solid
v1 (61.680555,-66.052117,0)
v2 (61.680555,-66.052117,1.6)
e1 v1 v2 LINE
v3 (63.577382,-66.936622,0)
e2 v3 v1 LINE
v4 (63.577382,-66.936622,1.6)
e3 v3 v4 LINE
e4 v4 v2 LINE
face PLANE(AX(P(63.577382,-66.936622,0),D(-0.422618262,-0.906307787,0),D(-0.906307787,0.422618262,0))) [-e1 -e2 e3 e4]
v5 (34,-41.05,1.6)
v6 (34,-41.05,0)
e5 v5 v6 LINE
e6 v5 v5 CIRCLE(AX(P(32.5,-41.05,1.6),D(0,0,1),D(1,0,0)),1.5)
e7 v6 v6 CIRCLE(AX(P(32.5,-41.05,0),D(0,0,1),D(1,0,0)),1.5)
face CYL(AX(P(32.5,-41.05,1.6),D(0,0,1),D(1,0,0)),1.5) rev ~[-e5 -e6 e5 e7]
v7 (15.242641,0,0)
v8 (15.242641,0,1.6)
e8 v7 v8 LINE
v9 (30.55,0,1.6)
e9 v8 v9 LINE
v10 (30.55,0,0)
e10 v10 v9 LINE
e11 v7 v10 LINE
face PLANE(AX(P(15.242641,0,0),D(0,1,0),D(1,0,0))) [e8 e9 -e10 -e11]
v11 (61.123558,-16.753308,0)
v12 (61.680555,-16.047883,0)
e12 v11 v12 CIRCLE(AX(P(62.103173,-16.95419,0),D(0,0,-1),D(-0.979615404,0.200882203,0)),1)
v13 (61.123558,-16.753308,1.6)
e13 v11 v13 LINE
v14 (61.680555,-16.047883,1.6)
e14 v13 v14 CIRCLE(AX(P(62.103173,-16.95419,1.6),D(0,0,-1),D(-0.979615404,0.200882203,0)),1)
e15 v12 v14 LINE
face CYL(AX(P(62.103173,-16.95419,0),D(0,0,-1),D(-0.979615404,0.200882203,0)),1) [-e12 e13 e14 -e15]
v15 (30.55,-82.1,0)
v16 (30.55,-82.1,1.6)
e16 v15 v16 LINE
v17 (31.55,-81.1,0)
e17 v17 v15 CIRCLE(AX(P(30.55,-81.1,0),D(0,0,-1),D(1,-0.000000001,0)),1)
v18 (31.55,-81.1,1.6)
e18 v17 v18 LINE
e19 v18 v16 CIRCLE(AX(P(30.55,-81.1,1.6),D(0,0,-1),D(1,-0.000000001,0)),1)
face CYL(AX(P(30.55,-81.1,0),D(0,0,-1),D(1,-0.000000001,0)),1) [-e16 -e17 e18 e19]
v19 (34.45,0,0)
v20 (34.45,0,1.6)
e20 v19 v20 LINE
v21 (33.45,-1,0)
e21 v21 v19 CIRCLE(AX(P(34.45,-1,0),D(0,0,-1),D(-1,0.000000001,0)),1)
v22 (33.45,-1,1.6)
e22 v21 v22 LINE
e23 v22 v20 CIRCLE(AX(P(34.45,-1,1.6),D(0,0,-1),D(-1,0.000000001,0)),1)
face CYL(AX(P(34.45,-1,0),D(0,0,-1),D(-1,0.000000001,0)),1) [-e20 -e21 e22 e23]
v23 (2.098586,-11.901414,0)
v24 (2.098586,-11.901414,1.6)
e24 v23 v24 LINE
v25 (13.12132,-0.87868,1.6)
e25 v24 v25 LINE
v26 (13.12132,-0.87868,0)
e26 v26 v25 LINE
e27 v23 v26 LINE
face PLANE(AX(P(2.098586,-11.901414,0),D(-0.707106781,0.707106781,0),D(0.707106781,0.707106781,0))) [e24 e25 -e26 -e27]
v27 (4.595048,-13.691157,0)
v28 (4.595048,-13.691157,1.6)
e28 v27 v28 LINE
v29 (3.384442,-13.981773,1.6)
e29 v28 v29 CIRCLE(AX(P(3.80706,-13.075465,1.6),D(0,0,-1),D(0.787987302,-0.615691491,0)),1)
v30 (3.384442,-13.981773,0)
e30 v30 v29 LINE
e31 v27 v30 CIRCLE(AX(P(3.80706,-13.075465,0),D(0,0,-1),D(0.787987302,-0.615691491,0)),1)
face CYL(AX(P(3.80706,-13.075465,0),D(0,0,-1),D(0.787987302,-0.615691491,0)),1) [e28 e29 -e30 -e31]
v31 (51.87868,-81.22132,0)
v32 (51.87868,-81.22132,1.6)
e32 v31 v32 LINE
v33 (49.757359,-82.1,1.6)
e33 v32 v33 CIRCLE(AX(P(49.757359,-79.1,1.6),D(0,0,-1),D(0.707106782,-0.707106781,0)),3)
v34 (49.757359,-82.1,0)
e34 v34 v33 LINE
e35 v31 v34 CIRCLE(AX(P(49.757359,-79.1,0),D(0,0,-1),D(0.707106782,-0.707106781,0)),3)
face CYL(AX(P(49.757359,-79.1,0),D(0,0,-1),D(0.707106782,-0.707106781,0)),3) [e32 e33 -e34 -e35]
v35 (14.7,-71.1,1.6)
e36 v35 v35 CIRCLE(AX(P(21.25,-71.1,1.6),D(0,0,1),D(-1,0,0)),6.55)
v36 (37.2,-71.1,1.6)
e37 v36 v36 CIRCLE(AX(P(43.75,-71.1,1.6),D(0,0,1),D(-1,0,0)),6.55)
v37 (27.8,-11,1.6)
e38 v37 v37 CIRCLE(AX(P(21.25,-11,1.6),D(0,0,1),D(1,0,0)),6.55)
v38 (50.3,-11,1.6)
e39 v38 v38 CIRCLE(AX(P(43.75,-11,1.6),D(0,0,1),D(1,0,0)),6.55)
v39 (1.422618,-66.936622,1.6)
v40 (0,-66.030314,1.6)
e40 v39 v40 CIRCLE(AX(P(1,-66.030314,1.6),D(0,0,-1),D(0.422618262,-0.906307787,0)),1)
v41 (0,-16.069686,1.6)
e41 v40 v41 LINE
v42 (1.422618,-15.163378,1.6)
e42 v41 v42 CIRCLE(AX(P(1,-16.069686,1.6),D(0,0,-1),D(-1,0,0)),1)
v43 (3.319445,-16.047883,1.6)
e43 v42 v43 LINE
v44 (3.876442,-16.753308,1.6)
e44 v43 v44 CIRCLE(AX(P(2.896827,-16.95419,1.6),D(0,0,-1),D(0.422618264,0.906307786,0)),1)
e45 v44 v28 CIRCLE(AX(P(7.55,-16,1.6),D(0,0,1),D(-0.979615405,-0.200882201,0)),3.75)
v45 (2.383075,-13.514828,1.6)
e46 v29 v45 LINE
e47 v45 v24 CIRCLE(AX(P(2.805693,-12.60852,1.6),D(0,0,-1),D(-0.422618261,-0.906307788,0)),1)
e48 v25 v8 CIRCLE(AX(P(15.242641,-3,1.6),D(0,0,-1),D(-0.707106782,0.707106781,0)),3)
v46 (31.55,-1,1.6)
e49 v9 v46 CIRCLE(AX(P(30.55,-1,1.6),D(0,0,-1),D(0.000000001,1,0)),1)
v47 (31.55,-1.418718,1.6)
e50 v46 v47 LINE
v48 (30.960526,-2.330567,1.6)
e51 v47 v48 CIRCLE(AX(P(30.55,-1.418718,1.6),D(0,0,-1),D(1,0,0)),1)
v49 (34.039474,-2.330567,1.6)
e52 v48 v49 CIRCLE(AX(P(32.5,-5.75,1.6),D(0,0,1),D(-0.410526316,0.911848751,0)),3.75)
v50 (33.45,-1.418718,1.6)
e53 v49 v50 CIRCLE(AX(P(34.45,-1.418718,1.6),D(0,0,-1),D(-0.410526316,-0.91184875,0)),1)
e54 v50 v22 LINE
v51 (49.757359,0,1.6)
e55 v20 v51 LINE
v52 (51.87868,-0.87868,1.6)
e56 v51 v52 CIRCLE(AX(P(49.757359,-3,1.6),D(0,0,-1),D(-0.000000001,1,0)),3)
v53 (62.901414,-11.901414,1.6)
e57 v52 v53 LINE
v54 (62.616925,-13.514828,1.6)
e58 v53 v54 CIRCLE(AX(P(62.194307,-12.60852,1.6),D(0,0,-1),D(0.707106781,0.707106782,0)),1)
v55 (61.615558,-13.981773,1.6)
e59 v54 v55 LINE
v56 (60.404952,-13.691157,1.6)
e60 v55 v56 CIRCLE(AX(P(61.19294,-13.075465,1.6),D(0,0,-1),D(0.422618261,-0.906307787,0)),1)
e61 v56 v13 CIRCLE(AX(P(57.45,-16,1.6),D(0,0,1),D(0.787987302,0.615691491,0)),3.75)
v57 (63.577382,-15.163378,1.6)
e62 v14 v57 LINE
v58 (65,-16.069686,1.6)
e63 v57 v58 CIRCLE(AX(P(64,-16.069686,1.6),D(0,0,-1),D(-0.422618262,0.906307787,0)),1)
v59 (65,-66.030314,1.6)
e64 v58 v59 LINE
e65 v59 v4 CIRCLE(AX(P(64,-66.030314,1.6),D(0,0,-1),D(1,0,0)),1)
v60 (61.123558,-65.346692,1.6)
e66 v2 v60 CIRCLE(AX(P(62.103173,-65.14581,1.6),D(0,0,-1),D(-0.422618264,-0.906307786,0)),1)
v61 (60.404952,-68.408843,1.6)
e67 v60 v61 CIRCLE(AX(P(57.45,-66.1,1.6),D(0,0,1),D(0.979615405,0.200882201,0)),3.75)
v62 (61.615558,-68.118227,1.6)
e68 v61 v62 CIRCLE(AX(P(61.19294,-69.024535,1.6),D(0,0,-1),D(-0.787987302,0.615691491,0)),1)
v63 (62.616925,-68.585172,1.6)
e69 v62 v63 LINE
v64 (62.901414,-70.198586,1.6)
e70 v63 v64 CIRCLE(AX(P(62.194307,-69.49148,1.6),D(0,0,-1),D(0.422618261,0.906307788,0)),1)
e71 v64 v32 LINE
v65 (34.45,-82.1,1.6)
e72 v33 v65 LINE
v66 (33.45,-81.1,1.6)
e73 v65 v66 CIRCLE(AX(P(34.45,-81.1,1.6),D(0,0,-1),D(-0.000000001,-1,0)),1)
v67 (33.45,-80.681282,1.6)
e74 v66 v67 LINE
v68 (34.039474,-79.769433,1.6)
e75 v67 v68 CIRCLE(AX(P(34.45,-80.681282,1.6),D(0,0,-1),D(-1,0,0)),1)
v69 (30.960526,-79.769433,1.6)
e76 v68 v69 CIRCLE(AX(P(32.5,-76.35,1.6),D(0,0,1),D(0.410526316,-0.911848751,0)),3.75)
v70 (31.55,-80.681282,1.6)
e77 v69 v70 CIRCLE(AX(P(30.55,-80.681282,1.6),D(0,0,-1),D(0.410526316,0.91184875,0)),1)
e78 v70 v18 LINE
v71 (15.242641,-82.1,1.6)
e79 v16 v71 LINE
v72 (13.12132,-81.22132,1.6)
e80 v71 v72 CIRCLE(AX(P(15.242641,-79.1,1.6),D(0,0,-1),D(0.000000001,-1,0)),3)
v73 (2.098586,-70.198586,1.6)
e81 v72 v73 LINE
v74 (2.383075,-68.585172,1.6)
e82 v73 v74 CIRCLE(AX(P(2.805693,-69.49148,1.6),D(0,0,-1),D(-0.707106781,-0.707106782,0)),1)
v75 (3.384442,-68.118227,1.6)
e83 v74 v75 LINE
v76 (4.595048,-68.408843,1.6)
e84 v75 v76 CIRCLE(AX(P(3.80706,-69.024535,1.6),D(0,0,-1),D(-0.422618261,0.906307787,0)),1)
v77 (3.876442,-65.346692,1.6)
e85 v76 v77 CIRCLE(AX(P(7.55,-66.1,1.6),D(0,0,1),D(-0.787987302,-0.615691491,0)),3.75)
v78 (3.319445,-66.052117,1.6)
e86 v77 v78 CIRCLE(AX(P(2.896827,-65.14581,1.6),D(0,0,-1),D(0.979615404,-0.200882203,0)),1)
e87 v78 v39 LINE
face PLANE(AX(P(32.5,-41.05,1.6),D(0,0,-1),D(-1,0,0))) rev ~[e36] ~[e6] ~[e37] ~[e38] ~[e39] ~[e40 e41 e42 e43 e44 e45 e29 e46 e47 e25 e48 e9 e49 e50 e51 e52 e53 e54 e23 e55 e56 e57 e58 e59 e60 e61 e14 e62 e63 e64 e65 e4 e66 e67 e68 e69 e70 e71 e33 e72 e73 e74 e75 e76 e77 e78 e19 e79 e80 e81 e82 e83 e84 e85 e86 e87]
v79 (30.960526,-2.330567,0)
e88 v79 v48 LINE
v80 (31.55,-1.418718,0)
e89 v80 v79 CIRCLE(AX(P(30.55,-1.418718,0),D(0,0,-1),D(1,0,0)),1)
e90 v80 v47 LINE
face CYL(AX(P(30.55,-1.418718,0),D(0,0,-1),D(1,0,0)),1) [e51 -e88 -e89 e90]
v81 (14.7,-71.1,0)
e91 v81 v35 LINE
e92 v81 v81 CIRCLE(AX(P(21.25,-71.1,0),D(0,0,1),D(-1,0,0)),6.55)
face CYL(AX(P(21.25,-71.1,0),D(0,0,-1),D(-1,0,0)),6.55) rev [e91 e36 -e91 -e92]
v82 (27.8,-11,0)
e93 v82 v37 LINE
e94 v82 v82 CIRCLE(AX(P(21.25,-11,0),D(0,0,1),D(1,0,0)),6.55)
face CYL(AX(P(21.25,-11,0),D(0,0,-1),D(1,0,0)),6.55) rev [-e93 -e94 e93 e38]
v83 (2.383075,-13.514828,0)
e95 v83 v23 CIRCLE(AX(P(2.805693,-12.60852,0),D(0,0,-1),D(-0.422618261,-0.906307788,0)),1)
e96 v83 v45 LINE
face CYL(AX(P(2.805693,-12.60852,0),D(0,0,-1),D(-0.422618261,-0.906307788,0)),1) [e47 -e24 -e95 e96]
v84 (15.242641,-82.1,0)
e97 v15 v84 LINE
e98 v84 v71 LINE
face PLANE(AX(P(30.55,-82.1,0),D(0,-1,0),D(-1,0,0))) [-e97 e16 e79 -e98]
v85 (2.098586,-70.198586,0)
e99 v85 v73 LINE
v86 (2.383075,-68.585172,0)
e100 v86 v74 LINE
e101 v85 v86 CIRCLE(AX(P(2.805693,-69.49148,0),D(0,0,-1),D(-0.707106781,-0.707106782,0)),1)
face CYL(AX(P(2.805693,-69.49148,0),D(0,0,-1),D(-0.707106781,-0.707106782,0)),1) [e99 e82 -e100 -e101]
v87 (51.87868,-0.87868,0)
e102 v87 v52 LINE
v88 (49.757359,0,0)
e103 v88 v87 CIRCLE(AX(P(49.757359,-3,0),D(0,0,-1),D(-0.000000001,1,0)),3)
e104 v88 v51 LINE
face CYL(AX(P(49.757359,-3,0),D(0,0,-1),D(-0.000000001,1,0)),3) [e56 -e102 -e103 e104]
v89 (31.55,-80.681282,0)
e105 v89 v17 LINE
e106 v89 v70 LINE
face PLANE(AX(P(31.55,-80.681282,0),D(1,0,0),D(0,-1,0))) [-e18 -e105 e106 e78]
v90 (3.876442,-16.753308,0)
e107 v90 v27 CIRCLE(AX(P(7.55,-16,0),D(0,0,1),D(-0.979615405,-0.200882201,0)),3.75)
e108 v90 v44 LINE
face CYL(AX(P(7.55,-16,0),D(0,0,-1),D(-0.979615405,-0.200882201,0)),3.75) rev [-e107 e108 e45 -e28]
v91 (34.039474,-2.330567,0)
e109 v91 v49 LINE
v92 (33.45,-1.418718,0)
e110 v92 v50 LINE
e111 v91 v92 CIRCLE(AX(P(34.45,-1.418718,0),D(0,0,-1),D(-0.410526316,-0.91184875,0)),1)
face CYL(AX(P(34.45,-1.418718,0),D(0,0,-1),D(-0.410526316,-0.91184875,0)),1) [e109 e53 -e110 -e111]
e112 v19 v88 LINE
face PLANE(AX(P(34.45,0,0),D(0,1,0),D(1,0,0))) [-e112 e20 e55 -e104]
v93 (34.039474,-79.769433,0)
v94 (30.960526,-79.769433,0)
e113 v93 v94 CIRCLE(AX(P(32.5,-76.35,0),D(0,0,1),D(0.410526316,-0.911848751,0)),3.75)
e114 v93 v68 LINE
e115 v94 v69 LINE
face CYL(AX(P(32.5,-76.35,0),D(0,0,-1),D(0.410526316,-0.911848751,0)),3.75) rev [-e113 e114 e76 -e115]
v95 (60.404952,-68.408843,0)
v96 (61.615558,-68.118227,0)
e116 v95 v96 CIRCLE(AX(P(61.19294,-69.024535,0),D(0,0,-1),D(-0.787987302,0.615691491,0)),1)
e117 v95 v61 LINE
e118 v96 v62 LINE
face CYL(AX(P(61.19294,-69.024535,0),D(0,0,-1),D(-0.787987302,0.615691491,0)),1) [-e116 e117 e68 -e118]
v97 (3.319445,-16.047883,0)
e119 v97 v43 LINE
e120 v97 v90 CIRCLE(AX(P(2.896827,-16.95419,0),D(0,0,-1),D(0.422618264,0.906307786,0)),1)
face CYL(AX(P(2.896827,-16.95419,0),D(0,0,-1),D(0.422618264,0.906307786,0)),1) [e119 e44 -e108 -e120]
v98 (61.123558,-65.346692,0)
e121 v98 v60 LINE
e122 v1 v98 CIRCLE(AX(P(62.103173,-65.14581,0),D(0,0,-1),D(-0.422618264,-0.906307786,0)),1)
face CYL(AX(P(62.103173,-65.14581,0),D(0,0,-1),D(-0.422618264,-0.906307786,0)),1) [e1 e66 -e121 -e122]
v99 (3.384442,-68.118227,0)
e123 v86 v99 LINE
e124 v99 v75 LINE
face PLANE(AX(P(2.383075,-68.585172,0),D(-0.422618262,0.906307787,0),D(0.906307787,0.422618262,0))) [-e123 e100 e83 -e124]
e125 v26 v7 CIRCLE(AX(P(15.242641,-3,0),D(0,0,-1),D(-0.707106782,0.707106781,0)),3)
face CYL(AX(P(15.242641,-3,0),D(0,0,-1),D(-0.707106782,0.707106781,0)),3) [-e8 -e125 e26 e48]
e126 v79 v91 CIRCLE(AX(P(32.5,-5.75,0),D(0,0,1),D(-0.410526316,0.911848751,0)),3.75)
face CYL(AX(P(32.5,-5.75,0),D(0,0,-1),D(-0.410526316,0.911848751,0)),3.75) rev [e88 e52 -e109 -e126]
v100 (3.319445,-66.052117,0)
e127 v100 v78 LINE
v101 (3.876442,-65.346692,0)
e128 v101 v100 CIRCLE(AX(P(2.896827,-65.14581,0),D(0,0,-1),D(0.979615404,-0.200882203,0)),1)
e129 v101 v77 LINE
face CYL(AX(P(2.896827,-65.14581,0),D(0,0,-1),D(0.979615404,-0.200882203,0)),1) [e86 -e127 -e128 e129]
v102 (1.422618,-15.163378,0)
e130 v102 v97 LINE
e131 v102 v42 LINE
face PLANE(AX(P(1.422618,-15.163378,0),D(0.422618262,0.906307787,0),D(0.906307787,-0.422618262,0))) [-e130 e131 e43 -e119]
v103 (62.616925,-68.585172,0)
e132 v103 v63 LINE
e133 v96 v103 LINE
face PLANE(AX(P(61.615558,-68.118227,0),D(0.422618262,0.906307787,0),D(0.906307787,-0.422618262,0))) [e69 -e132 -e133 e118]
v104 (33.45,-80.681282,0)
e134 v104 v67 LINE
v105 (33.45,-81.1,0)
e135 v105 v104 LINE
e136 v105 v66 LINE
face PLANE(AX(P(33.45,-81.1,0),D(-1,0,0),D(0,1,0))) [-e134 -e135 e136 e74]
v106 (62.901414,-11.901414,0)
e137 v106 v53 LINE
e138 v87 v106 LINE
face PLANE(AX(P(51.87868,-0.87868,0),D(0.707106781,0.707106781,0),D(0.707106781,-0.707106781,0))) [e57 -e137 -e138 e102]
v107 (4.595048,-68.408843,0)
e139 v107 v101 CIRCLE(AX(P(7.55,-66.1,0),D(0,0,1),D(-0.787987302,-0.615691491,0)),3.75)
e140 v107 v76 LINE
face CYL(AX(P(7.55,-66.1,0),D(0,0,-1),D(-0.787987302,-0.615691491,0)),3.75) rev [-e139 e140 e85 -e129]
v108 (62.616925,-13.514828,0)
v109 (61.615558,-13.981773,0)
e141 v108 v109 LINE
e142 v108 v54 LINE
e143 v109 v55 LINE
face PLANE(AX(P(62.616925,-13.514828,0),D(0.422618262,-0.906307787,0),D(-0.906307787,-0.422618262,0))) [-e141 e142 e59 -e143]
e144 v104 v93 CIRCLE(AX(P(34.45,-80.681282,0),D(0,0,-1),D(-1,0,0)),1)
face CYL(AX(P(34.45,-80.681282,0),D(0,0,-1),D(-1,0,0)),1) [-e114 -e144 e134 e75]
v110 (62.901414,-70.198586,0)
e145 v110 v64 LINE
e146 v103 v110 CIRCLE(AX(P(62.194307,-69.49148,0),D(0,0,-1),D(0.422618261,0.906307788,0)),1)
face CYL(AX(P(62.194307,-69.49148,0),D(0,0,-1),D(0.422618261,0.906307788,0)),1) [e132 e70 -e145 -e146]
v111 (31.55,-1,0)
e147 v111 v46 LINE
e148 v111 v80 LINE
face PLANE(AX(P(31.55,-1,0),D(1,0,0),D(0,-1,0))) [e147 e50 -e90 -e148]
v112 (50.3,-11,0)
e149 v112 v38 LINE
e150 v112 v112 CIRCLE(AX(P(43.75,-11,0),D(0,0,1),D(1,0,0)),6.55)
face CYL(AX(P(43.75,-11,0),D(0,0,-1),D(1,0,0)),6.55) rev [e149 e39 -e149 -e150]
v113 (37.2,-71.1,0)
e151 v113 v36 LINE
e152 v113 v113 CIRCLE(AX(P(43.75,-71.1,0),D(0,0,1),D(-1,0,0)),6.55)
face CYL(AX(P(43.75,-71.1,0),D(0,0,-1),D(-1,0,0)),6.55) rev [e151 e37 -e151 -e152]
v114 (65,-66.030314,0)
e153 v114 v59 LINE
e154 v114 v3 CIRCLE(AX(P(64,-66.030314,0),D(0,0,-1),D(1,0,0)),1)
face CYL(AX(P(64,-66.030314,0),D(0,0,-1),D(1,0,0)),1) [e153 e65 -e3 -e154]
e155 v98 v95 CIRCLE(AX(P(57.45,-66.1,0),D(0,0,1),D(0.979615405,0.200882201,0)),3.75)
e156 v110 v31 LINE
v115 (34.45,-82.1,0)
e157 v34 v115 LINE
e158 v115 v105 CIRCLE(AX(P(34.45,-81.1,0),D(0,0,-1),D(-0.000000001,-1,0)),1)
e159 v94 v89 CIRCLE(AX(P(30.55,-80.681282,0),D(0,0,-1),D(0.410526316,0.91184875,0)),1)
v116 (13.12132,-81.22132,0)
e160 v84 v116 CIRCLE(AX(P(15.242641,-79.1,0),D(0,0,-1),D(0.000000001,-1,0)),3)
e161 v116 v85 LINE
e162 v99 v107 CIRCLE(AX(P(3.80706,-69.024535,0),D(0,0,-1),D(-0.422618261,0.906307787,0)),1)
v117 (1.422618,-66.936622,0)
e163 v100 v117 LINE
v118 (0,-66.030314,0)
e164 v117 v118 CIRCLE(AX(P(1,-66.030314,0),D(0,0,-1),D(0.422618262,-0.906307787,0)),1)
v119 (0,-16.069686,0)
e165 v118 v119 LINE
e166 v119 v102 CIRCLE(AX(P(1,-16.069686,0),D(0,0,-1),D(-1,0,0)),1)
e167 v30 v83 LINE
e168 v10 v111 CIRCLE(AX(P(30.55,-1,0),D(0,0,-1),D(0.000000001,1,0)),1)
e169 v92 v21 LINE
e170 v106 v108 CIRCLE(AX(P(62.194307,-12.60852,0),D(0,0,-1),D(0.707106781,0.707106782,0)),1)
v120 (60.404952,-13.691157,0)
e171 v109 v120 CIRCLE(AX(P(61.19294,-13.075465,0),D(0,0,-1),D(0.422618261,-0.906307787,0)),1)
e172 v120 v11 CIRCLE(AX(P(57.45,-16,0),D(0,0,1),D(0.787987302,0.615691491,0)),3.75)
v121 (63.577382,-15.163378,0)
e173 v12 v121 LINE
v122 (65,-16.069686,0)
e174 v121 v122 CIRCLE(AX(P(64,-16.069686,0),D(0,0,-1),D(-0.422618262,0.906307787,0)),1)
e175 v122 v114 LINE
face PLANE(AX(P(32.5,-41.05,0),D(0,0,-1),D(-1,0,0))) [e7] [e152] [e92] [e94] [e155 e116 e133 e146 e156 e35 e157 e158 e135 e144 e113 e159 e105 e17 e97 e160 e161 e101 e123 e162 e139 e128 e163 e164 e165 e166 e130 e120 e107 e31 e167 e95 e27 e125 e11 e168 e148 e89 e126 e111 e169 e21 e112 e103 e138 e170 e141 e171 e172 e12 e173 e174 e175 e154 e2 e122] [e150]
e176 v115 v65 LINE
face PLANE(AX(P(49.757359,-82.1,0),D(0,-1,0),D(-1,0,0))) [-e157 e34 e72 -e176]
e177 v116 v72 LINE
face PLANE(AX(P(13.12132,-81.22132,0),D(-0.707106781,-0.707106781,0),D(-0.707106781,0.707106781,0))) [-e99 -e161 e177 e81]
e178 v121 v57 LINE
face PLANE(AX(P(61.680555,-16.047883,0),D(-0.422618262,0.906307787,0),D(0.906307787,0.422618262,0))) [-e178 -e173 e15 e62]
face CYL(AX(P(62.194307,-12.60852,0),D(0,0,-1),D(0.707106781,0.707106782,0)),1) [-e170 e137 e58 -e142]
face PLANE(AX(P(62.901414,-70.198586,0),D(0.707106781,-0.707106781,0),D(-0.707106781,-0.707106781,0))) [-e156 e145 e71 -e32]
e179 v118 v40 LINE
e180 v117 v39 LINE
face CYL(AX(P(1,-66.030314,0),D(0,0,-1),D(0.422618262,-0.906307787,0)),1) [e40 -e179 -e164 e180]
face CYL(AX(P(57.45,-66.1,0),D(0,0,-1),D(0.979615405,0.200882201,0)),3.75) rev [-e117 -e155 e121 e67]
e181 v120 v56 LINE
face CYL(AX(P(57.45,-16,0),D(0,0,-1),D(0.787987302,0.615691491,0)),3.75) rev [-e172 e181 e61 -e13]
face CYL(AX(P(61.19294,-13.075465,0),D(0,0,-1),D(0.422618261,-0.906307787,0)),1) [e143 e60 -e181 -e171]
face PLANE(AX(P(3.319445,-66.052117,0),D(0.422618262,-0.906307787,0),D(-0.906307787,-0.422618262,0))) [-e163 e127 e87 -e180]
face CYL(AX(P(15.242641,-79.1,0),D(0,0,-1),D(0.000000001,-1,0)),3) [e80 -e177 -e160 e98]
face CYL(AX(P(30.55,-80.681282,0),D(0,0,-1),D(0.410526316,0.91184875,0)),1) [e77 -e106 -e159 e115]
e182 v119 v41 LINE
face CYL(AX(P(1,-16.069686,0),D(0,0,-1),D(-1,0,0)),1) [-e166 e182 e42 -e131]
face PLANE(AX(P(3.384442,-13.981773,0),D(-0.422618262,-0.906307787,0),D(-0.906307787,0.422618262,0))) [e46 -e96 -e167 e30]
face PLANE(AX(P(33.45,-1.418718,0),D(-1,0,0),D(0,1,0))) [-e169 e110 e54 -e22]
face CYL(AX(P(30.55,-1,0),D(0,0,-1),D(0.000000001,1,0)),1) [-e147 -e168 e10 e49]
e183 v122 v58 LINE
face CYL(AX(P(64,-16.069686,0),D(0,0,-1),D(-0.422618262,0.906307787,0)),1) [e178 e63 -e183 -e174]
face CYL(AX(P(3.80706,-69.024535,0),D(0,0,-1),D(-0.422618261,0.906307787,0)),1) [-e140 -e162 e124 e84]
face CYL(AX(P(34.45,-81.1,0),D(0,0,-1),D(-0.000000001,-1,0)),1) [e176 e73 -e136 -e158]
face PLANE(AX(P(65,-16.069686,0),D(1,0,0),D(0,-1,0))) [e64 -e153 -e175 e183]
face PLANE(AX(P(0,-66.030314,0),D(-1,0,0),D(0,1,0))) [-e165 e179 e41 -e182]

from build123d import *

# Parameters (mm, degrees)
IZIM1_R                     = 6.55
Y_KSEKLIK_EKSTR_ZYON1_DEPTH = 1.6
IZIM2_R                     = 1.5
KES_EKSTR_ZYON1_DEPTH       = 1.6


with BuildPart() as part:
    # Çizim1 → Yükseklik-Ekstrüzyon1 (new body)
    with BuildSketch(Plane.XY):
        with BuildLine():
            Line((51.878679656, -0.878679656), (62.901413512, -11.901413512))
            ThreePointArc((62.901413512, -11.901413512), (63.179114484, -12.782168471), (62.616924992, -13.51482808))
            Line((62.616924992, -13.51482808), (61.615557944, -13.981773203))
            ThreePointArc((61.615557944, -13.981773203), (60.959512838, -14.047839782), (60.404952381, -13.691156907))
            ThreePointArc((60.404952381, -13.691156907), (53.799180994, -16.856750014), (61.123557768, -16.753308252))
            ThreePointArc((61.123557768, -16.753308252), (61.318334892, -16.334489822), (61.680554911, -16.047882666))
            Line((61.680554911, -16.047882666), (63.577381738, -15.16337779))
            ThreePointArc((63.577381738, -15.16337779), (64.537299608, -15.226294131), (65, -16.069685577))
            Line((65, -16.069685577), (65, -66.030314423))
            ThreePointArc((65, -66.030314423), (64.537299608, -66.873705869), (63.577381738, -66.93662221))
            Line((63.577381738, -66.93662221), (61.680554911, -66.052117334))
            ThreePointArc((61.680554911, -66.052117334), (61.318334892, -65.765510178), (61.123557768, -65.346691748))
            ThreePointArc((61.123557768, -65.346691748), (53.799180994, -65.243249986), (60.404952381, -68.408843093))
            ThreePointArc((60.404952381, -68.408843093), (60.959512838, -68.052160218), (61.615557944, -68.118226797))
            Line((61.615557944, -68.118226797), (62.616924992, -68.58517192))
            ThreePointArc((62.616924992, -68.58517192), (63.179114484, -69.317831529), (62.901413512, -70.198586488))
            Line((62.901413512, -70.198586488), (51.878679656, -81.221320344))
            ThreePointArc((51.878679656, -81.221320344), (50.90540961, -81.871638598), (49.757359313, -82.1))
            Line((49.757359313, -82.1), (34.45, -82.1))
            ThreePointArc((34.45, -82.1), (33.742893219, -81.807106781), (33.45, -81.1))
            Line((33.45, -81.1), (33.45, -80.681281566))
            ThreePointArc((33.45, -80.681281566), (33.610200525, -80.138384852), (34.039473684, -79.769432815))
            ThreePointArc((34.039473684, -79.769432815), (32.5, -72.6), (30.960526316, -79.769432815))
            ThreePointArc((30.960526316, -79.769432815), (31.389799475, -80.138384852), (31.55, -80.681281566))
            Line((31.55, -80.681281566), (31.55, -81.1))
            ThreePointArc((31.55, -81.1), (31.257106781, -81.807106781), (30.55, -82.1))
            Line((30.55, -82.1), (15.242640687, -82.1))
            ThreePointArc((15.242640687, -82.1), (14.09459039, -81.871638598), (13.121320344, -81.221320344))
            Line((13.121320344, -81.221320344), (2.098586488, -70.198586488))
            ThreePointArc((2.098586488, -70.198586488), (1.820885516, -69.317831529), (2.383075008, -68.58517192))
            Line((2.383075008, -68.58517192), (3.384442056, -68.118226797))
            ThreePointArc((3.384442056, -68.118226797), (4.040487162, -68.052160218), (4.595047619, -68.408843093))
            ThreePointArc((4.595047619, -68.408843093), (11.200819006, -65.243249986), (3.876442232, -65.346691748))
            ThreePointArc((3.876442232, -65.346691748), (3.681665108, -65.765510178), (3.319445089, -66.052117334))
            Line((3.319445089, -66.052117334), (1.422618262, -66.93662221))
            ThreePointArc((1.422618262, -66.93662221), (0.462700392, -66.873705869), (0, -66.030314423))
            Line((0, -66.030314423), (0, -16.069685577))
            ThreePointArc((0, -16.069685577), (0.462700392, -15.226294131), (1.422618262, -15.16337779))
            Line((1.422618262, -15.16337779), (3.319445089, -16.047882666))
            ThreePointArc((3.319445089, -16.047882666), (3.681665108, -16.334489822), (3.876442232, -16.753308252))
            ThreePointArc((3.876442232, -16.753308252), (11.200819006, -16.856750014), (4.595047619, -13.691156907))
            ThreePointArc((4.595047619, -13.691156907), (4.040487162, -14.047839782), (3.384442056, -13.981773203))
            Line((3.384442056, -13.981773203), (2.383075008, -13.51482808))
            ThreePointArc((2.383075008, -13.51482808), (1.820885516, -12.782168471), (2.098586488, -11.901413512))
            Line((2.098586488, -11.901413512), (13.121320344, -0.878679656))
            ThreePointArc((13.121320344, -0.878679656), (14.09459039, -0.228361402), (15.242640687, 0))
            Line((15.242640687, 0), (30.55, 0))
            ThreePointArc((30.55, 0), (31.257106781, -0.292893219), (31.55, -1))
            Line((31.55, -1), (31.55, -1.418718434))
            ThreePointArc((31.55, -1.418718434), (31.389799475, -1.961615148), (30.960526316, -2.330567185))
            ThreePointArc((30.960526316, -2.330567185), (32.5, -9.5), (34.039473684, -2.330567185))
            ThreePointArc((34.039473684, -2.330567185), (33.610200525, -1.961615148), (33.45, -1.418718434))
            Line((33.45, -1.418718434), (33.45, -1))
            ThreePointArc((33.45, -1), (33.742893219, -0.292893219), (34.45, 0))
            Line((34.45, 0), (49.757359313, 0))
            ThreePointArc((49.757359313, 0), (50.90540961, -0.228361402), (51.878679656, -0.878679656))
        make_face()
        with Locations((21.25, -11)):
            Circle(IZIM1_R, mode=Mode.SUBTRACT)
        with Locations((43.75, -11)):
            Circle(IZIM1_R, mode=Mode.SUBTRACT)
        with Locations(Location((43.75, -71.1, 0), (0, 0, 180))):
            Circle(IZIM1_R, mode=Mode.SUBTRACT)
        with Locations(Location((21.25, -71.1, 0), (0, 0, 180))):
            Circle(IZIM1_R, mode=Mode.SUBTRACT)
    extrude(amount=Y_KSEKLIK_EKSTR_ZYON1_DEPTH)

    # Çizim2 → Kes-Ekstrüzyon1 (cut)
    with BuildSketch(Plane.XY.offset(1.6)):
        with Locations((32.5, -41.05)):
            Circle(IZIM2_R)
    extrude(amount=-KES_EKSTR_ZYON1_DEPTH, mode=Mode.SUBTRACT)


solid = part.part
